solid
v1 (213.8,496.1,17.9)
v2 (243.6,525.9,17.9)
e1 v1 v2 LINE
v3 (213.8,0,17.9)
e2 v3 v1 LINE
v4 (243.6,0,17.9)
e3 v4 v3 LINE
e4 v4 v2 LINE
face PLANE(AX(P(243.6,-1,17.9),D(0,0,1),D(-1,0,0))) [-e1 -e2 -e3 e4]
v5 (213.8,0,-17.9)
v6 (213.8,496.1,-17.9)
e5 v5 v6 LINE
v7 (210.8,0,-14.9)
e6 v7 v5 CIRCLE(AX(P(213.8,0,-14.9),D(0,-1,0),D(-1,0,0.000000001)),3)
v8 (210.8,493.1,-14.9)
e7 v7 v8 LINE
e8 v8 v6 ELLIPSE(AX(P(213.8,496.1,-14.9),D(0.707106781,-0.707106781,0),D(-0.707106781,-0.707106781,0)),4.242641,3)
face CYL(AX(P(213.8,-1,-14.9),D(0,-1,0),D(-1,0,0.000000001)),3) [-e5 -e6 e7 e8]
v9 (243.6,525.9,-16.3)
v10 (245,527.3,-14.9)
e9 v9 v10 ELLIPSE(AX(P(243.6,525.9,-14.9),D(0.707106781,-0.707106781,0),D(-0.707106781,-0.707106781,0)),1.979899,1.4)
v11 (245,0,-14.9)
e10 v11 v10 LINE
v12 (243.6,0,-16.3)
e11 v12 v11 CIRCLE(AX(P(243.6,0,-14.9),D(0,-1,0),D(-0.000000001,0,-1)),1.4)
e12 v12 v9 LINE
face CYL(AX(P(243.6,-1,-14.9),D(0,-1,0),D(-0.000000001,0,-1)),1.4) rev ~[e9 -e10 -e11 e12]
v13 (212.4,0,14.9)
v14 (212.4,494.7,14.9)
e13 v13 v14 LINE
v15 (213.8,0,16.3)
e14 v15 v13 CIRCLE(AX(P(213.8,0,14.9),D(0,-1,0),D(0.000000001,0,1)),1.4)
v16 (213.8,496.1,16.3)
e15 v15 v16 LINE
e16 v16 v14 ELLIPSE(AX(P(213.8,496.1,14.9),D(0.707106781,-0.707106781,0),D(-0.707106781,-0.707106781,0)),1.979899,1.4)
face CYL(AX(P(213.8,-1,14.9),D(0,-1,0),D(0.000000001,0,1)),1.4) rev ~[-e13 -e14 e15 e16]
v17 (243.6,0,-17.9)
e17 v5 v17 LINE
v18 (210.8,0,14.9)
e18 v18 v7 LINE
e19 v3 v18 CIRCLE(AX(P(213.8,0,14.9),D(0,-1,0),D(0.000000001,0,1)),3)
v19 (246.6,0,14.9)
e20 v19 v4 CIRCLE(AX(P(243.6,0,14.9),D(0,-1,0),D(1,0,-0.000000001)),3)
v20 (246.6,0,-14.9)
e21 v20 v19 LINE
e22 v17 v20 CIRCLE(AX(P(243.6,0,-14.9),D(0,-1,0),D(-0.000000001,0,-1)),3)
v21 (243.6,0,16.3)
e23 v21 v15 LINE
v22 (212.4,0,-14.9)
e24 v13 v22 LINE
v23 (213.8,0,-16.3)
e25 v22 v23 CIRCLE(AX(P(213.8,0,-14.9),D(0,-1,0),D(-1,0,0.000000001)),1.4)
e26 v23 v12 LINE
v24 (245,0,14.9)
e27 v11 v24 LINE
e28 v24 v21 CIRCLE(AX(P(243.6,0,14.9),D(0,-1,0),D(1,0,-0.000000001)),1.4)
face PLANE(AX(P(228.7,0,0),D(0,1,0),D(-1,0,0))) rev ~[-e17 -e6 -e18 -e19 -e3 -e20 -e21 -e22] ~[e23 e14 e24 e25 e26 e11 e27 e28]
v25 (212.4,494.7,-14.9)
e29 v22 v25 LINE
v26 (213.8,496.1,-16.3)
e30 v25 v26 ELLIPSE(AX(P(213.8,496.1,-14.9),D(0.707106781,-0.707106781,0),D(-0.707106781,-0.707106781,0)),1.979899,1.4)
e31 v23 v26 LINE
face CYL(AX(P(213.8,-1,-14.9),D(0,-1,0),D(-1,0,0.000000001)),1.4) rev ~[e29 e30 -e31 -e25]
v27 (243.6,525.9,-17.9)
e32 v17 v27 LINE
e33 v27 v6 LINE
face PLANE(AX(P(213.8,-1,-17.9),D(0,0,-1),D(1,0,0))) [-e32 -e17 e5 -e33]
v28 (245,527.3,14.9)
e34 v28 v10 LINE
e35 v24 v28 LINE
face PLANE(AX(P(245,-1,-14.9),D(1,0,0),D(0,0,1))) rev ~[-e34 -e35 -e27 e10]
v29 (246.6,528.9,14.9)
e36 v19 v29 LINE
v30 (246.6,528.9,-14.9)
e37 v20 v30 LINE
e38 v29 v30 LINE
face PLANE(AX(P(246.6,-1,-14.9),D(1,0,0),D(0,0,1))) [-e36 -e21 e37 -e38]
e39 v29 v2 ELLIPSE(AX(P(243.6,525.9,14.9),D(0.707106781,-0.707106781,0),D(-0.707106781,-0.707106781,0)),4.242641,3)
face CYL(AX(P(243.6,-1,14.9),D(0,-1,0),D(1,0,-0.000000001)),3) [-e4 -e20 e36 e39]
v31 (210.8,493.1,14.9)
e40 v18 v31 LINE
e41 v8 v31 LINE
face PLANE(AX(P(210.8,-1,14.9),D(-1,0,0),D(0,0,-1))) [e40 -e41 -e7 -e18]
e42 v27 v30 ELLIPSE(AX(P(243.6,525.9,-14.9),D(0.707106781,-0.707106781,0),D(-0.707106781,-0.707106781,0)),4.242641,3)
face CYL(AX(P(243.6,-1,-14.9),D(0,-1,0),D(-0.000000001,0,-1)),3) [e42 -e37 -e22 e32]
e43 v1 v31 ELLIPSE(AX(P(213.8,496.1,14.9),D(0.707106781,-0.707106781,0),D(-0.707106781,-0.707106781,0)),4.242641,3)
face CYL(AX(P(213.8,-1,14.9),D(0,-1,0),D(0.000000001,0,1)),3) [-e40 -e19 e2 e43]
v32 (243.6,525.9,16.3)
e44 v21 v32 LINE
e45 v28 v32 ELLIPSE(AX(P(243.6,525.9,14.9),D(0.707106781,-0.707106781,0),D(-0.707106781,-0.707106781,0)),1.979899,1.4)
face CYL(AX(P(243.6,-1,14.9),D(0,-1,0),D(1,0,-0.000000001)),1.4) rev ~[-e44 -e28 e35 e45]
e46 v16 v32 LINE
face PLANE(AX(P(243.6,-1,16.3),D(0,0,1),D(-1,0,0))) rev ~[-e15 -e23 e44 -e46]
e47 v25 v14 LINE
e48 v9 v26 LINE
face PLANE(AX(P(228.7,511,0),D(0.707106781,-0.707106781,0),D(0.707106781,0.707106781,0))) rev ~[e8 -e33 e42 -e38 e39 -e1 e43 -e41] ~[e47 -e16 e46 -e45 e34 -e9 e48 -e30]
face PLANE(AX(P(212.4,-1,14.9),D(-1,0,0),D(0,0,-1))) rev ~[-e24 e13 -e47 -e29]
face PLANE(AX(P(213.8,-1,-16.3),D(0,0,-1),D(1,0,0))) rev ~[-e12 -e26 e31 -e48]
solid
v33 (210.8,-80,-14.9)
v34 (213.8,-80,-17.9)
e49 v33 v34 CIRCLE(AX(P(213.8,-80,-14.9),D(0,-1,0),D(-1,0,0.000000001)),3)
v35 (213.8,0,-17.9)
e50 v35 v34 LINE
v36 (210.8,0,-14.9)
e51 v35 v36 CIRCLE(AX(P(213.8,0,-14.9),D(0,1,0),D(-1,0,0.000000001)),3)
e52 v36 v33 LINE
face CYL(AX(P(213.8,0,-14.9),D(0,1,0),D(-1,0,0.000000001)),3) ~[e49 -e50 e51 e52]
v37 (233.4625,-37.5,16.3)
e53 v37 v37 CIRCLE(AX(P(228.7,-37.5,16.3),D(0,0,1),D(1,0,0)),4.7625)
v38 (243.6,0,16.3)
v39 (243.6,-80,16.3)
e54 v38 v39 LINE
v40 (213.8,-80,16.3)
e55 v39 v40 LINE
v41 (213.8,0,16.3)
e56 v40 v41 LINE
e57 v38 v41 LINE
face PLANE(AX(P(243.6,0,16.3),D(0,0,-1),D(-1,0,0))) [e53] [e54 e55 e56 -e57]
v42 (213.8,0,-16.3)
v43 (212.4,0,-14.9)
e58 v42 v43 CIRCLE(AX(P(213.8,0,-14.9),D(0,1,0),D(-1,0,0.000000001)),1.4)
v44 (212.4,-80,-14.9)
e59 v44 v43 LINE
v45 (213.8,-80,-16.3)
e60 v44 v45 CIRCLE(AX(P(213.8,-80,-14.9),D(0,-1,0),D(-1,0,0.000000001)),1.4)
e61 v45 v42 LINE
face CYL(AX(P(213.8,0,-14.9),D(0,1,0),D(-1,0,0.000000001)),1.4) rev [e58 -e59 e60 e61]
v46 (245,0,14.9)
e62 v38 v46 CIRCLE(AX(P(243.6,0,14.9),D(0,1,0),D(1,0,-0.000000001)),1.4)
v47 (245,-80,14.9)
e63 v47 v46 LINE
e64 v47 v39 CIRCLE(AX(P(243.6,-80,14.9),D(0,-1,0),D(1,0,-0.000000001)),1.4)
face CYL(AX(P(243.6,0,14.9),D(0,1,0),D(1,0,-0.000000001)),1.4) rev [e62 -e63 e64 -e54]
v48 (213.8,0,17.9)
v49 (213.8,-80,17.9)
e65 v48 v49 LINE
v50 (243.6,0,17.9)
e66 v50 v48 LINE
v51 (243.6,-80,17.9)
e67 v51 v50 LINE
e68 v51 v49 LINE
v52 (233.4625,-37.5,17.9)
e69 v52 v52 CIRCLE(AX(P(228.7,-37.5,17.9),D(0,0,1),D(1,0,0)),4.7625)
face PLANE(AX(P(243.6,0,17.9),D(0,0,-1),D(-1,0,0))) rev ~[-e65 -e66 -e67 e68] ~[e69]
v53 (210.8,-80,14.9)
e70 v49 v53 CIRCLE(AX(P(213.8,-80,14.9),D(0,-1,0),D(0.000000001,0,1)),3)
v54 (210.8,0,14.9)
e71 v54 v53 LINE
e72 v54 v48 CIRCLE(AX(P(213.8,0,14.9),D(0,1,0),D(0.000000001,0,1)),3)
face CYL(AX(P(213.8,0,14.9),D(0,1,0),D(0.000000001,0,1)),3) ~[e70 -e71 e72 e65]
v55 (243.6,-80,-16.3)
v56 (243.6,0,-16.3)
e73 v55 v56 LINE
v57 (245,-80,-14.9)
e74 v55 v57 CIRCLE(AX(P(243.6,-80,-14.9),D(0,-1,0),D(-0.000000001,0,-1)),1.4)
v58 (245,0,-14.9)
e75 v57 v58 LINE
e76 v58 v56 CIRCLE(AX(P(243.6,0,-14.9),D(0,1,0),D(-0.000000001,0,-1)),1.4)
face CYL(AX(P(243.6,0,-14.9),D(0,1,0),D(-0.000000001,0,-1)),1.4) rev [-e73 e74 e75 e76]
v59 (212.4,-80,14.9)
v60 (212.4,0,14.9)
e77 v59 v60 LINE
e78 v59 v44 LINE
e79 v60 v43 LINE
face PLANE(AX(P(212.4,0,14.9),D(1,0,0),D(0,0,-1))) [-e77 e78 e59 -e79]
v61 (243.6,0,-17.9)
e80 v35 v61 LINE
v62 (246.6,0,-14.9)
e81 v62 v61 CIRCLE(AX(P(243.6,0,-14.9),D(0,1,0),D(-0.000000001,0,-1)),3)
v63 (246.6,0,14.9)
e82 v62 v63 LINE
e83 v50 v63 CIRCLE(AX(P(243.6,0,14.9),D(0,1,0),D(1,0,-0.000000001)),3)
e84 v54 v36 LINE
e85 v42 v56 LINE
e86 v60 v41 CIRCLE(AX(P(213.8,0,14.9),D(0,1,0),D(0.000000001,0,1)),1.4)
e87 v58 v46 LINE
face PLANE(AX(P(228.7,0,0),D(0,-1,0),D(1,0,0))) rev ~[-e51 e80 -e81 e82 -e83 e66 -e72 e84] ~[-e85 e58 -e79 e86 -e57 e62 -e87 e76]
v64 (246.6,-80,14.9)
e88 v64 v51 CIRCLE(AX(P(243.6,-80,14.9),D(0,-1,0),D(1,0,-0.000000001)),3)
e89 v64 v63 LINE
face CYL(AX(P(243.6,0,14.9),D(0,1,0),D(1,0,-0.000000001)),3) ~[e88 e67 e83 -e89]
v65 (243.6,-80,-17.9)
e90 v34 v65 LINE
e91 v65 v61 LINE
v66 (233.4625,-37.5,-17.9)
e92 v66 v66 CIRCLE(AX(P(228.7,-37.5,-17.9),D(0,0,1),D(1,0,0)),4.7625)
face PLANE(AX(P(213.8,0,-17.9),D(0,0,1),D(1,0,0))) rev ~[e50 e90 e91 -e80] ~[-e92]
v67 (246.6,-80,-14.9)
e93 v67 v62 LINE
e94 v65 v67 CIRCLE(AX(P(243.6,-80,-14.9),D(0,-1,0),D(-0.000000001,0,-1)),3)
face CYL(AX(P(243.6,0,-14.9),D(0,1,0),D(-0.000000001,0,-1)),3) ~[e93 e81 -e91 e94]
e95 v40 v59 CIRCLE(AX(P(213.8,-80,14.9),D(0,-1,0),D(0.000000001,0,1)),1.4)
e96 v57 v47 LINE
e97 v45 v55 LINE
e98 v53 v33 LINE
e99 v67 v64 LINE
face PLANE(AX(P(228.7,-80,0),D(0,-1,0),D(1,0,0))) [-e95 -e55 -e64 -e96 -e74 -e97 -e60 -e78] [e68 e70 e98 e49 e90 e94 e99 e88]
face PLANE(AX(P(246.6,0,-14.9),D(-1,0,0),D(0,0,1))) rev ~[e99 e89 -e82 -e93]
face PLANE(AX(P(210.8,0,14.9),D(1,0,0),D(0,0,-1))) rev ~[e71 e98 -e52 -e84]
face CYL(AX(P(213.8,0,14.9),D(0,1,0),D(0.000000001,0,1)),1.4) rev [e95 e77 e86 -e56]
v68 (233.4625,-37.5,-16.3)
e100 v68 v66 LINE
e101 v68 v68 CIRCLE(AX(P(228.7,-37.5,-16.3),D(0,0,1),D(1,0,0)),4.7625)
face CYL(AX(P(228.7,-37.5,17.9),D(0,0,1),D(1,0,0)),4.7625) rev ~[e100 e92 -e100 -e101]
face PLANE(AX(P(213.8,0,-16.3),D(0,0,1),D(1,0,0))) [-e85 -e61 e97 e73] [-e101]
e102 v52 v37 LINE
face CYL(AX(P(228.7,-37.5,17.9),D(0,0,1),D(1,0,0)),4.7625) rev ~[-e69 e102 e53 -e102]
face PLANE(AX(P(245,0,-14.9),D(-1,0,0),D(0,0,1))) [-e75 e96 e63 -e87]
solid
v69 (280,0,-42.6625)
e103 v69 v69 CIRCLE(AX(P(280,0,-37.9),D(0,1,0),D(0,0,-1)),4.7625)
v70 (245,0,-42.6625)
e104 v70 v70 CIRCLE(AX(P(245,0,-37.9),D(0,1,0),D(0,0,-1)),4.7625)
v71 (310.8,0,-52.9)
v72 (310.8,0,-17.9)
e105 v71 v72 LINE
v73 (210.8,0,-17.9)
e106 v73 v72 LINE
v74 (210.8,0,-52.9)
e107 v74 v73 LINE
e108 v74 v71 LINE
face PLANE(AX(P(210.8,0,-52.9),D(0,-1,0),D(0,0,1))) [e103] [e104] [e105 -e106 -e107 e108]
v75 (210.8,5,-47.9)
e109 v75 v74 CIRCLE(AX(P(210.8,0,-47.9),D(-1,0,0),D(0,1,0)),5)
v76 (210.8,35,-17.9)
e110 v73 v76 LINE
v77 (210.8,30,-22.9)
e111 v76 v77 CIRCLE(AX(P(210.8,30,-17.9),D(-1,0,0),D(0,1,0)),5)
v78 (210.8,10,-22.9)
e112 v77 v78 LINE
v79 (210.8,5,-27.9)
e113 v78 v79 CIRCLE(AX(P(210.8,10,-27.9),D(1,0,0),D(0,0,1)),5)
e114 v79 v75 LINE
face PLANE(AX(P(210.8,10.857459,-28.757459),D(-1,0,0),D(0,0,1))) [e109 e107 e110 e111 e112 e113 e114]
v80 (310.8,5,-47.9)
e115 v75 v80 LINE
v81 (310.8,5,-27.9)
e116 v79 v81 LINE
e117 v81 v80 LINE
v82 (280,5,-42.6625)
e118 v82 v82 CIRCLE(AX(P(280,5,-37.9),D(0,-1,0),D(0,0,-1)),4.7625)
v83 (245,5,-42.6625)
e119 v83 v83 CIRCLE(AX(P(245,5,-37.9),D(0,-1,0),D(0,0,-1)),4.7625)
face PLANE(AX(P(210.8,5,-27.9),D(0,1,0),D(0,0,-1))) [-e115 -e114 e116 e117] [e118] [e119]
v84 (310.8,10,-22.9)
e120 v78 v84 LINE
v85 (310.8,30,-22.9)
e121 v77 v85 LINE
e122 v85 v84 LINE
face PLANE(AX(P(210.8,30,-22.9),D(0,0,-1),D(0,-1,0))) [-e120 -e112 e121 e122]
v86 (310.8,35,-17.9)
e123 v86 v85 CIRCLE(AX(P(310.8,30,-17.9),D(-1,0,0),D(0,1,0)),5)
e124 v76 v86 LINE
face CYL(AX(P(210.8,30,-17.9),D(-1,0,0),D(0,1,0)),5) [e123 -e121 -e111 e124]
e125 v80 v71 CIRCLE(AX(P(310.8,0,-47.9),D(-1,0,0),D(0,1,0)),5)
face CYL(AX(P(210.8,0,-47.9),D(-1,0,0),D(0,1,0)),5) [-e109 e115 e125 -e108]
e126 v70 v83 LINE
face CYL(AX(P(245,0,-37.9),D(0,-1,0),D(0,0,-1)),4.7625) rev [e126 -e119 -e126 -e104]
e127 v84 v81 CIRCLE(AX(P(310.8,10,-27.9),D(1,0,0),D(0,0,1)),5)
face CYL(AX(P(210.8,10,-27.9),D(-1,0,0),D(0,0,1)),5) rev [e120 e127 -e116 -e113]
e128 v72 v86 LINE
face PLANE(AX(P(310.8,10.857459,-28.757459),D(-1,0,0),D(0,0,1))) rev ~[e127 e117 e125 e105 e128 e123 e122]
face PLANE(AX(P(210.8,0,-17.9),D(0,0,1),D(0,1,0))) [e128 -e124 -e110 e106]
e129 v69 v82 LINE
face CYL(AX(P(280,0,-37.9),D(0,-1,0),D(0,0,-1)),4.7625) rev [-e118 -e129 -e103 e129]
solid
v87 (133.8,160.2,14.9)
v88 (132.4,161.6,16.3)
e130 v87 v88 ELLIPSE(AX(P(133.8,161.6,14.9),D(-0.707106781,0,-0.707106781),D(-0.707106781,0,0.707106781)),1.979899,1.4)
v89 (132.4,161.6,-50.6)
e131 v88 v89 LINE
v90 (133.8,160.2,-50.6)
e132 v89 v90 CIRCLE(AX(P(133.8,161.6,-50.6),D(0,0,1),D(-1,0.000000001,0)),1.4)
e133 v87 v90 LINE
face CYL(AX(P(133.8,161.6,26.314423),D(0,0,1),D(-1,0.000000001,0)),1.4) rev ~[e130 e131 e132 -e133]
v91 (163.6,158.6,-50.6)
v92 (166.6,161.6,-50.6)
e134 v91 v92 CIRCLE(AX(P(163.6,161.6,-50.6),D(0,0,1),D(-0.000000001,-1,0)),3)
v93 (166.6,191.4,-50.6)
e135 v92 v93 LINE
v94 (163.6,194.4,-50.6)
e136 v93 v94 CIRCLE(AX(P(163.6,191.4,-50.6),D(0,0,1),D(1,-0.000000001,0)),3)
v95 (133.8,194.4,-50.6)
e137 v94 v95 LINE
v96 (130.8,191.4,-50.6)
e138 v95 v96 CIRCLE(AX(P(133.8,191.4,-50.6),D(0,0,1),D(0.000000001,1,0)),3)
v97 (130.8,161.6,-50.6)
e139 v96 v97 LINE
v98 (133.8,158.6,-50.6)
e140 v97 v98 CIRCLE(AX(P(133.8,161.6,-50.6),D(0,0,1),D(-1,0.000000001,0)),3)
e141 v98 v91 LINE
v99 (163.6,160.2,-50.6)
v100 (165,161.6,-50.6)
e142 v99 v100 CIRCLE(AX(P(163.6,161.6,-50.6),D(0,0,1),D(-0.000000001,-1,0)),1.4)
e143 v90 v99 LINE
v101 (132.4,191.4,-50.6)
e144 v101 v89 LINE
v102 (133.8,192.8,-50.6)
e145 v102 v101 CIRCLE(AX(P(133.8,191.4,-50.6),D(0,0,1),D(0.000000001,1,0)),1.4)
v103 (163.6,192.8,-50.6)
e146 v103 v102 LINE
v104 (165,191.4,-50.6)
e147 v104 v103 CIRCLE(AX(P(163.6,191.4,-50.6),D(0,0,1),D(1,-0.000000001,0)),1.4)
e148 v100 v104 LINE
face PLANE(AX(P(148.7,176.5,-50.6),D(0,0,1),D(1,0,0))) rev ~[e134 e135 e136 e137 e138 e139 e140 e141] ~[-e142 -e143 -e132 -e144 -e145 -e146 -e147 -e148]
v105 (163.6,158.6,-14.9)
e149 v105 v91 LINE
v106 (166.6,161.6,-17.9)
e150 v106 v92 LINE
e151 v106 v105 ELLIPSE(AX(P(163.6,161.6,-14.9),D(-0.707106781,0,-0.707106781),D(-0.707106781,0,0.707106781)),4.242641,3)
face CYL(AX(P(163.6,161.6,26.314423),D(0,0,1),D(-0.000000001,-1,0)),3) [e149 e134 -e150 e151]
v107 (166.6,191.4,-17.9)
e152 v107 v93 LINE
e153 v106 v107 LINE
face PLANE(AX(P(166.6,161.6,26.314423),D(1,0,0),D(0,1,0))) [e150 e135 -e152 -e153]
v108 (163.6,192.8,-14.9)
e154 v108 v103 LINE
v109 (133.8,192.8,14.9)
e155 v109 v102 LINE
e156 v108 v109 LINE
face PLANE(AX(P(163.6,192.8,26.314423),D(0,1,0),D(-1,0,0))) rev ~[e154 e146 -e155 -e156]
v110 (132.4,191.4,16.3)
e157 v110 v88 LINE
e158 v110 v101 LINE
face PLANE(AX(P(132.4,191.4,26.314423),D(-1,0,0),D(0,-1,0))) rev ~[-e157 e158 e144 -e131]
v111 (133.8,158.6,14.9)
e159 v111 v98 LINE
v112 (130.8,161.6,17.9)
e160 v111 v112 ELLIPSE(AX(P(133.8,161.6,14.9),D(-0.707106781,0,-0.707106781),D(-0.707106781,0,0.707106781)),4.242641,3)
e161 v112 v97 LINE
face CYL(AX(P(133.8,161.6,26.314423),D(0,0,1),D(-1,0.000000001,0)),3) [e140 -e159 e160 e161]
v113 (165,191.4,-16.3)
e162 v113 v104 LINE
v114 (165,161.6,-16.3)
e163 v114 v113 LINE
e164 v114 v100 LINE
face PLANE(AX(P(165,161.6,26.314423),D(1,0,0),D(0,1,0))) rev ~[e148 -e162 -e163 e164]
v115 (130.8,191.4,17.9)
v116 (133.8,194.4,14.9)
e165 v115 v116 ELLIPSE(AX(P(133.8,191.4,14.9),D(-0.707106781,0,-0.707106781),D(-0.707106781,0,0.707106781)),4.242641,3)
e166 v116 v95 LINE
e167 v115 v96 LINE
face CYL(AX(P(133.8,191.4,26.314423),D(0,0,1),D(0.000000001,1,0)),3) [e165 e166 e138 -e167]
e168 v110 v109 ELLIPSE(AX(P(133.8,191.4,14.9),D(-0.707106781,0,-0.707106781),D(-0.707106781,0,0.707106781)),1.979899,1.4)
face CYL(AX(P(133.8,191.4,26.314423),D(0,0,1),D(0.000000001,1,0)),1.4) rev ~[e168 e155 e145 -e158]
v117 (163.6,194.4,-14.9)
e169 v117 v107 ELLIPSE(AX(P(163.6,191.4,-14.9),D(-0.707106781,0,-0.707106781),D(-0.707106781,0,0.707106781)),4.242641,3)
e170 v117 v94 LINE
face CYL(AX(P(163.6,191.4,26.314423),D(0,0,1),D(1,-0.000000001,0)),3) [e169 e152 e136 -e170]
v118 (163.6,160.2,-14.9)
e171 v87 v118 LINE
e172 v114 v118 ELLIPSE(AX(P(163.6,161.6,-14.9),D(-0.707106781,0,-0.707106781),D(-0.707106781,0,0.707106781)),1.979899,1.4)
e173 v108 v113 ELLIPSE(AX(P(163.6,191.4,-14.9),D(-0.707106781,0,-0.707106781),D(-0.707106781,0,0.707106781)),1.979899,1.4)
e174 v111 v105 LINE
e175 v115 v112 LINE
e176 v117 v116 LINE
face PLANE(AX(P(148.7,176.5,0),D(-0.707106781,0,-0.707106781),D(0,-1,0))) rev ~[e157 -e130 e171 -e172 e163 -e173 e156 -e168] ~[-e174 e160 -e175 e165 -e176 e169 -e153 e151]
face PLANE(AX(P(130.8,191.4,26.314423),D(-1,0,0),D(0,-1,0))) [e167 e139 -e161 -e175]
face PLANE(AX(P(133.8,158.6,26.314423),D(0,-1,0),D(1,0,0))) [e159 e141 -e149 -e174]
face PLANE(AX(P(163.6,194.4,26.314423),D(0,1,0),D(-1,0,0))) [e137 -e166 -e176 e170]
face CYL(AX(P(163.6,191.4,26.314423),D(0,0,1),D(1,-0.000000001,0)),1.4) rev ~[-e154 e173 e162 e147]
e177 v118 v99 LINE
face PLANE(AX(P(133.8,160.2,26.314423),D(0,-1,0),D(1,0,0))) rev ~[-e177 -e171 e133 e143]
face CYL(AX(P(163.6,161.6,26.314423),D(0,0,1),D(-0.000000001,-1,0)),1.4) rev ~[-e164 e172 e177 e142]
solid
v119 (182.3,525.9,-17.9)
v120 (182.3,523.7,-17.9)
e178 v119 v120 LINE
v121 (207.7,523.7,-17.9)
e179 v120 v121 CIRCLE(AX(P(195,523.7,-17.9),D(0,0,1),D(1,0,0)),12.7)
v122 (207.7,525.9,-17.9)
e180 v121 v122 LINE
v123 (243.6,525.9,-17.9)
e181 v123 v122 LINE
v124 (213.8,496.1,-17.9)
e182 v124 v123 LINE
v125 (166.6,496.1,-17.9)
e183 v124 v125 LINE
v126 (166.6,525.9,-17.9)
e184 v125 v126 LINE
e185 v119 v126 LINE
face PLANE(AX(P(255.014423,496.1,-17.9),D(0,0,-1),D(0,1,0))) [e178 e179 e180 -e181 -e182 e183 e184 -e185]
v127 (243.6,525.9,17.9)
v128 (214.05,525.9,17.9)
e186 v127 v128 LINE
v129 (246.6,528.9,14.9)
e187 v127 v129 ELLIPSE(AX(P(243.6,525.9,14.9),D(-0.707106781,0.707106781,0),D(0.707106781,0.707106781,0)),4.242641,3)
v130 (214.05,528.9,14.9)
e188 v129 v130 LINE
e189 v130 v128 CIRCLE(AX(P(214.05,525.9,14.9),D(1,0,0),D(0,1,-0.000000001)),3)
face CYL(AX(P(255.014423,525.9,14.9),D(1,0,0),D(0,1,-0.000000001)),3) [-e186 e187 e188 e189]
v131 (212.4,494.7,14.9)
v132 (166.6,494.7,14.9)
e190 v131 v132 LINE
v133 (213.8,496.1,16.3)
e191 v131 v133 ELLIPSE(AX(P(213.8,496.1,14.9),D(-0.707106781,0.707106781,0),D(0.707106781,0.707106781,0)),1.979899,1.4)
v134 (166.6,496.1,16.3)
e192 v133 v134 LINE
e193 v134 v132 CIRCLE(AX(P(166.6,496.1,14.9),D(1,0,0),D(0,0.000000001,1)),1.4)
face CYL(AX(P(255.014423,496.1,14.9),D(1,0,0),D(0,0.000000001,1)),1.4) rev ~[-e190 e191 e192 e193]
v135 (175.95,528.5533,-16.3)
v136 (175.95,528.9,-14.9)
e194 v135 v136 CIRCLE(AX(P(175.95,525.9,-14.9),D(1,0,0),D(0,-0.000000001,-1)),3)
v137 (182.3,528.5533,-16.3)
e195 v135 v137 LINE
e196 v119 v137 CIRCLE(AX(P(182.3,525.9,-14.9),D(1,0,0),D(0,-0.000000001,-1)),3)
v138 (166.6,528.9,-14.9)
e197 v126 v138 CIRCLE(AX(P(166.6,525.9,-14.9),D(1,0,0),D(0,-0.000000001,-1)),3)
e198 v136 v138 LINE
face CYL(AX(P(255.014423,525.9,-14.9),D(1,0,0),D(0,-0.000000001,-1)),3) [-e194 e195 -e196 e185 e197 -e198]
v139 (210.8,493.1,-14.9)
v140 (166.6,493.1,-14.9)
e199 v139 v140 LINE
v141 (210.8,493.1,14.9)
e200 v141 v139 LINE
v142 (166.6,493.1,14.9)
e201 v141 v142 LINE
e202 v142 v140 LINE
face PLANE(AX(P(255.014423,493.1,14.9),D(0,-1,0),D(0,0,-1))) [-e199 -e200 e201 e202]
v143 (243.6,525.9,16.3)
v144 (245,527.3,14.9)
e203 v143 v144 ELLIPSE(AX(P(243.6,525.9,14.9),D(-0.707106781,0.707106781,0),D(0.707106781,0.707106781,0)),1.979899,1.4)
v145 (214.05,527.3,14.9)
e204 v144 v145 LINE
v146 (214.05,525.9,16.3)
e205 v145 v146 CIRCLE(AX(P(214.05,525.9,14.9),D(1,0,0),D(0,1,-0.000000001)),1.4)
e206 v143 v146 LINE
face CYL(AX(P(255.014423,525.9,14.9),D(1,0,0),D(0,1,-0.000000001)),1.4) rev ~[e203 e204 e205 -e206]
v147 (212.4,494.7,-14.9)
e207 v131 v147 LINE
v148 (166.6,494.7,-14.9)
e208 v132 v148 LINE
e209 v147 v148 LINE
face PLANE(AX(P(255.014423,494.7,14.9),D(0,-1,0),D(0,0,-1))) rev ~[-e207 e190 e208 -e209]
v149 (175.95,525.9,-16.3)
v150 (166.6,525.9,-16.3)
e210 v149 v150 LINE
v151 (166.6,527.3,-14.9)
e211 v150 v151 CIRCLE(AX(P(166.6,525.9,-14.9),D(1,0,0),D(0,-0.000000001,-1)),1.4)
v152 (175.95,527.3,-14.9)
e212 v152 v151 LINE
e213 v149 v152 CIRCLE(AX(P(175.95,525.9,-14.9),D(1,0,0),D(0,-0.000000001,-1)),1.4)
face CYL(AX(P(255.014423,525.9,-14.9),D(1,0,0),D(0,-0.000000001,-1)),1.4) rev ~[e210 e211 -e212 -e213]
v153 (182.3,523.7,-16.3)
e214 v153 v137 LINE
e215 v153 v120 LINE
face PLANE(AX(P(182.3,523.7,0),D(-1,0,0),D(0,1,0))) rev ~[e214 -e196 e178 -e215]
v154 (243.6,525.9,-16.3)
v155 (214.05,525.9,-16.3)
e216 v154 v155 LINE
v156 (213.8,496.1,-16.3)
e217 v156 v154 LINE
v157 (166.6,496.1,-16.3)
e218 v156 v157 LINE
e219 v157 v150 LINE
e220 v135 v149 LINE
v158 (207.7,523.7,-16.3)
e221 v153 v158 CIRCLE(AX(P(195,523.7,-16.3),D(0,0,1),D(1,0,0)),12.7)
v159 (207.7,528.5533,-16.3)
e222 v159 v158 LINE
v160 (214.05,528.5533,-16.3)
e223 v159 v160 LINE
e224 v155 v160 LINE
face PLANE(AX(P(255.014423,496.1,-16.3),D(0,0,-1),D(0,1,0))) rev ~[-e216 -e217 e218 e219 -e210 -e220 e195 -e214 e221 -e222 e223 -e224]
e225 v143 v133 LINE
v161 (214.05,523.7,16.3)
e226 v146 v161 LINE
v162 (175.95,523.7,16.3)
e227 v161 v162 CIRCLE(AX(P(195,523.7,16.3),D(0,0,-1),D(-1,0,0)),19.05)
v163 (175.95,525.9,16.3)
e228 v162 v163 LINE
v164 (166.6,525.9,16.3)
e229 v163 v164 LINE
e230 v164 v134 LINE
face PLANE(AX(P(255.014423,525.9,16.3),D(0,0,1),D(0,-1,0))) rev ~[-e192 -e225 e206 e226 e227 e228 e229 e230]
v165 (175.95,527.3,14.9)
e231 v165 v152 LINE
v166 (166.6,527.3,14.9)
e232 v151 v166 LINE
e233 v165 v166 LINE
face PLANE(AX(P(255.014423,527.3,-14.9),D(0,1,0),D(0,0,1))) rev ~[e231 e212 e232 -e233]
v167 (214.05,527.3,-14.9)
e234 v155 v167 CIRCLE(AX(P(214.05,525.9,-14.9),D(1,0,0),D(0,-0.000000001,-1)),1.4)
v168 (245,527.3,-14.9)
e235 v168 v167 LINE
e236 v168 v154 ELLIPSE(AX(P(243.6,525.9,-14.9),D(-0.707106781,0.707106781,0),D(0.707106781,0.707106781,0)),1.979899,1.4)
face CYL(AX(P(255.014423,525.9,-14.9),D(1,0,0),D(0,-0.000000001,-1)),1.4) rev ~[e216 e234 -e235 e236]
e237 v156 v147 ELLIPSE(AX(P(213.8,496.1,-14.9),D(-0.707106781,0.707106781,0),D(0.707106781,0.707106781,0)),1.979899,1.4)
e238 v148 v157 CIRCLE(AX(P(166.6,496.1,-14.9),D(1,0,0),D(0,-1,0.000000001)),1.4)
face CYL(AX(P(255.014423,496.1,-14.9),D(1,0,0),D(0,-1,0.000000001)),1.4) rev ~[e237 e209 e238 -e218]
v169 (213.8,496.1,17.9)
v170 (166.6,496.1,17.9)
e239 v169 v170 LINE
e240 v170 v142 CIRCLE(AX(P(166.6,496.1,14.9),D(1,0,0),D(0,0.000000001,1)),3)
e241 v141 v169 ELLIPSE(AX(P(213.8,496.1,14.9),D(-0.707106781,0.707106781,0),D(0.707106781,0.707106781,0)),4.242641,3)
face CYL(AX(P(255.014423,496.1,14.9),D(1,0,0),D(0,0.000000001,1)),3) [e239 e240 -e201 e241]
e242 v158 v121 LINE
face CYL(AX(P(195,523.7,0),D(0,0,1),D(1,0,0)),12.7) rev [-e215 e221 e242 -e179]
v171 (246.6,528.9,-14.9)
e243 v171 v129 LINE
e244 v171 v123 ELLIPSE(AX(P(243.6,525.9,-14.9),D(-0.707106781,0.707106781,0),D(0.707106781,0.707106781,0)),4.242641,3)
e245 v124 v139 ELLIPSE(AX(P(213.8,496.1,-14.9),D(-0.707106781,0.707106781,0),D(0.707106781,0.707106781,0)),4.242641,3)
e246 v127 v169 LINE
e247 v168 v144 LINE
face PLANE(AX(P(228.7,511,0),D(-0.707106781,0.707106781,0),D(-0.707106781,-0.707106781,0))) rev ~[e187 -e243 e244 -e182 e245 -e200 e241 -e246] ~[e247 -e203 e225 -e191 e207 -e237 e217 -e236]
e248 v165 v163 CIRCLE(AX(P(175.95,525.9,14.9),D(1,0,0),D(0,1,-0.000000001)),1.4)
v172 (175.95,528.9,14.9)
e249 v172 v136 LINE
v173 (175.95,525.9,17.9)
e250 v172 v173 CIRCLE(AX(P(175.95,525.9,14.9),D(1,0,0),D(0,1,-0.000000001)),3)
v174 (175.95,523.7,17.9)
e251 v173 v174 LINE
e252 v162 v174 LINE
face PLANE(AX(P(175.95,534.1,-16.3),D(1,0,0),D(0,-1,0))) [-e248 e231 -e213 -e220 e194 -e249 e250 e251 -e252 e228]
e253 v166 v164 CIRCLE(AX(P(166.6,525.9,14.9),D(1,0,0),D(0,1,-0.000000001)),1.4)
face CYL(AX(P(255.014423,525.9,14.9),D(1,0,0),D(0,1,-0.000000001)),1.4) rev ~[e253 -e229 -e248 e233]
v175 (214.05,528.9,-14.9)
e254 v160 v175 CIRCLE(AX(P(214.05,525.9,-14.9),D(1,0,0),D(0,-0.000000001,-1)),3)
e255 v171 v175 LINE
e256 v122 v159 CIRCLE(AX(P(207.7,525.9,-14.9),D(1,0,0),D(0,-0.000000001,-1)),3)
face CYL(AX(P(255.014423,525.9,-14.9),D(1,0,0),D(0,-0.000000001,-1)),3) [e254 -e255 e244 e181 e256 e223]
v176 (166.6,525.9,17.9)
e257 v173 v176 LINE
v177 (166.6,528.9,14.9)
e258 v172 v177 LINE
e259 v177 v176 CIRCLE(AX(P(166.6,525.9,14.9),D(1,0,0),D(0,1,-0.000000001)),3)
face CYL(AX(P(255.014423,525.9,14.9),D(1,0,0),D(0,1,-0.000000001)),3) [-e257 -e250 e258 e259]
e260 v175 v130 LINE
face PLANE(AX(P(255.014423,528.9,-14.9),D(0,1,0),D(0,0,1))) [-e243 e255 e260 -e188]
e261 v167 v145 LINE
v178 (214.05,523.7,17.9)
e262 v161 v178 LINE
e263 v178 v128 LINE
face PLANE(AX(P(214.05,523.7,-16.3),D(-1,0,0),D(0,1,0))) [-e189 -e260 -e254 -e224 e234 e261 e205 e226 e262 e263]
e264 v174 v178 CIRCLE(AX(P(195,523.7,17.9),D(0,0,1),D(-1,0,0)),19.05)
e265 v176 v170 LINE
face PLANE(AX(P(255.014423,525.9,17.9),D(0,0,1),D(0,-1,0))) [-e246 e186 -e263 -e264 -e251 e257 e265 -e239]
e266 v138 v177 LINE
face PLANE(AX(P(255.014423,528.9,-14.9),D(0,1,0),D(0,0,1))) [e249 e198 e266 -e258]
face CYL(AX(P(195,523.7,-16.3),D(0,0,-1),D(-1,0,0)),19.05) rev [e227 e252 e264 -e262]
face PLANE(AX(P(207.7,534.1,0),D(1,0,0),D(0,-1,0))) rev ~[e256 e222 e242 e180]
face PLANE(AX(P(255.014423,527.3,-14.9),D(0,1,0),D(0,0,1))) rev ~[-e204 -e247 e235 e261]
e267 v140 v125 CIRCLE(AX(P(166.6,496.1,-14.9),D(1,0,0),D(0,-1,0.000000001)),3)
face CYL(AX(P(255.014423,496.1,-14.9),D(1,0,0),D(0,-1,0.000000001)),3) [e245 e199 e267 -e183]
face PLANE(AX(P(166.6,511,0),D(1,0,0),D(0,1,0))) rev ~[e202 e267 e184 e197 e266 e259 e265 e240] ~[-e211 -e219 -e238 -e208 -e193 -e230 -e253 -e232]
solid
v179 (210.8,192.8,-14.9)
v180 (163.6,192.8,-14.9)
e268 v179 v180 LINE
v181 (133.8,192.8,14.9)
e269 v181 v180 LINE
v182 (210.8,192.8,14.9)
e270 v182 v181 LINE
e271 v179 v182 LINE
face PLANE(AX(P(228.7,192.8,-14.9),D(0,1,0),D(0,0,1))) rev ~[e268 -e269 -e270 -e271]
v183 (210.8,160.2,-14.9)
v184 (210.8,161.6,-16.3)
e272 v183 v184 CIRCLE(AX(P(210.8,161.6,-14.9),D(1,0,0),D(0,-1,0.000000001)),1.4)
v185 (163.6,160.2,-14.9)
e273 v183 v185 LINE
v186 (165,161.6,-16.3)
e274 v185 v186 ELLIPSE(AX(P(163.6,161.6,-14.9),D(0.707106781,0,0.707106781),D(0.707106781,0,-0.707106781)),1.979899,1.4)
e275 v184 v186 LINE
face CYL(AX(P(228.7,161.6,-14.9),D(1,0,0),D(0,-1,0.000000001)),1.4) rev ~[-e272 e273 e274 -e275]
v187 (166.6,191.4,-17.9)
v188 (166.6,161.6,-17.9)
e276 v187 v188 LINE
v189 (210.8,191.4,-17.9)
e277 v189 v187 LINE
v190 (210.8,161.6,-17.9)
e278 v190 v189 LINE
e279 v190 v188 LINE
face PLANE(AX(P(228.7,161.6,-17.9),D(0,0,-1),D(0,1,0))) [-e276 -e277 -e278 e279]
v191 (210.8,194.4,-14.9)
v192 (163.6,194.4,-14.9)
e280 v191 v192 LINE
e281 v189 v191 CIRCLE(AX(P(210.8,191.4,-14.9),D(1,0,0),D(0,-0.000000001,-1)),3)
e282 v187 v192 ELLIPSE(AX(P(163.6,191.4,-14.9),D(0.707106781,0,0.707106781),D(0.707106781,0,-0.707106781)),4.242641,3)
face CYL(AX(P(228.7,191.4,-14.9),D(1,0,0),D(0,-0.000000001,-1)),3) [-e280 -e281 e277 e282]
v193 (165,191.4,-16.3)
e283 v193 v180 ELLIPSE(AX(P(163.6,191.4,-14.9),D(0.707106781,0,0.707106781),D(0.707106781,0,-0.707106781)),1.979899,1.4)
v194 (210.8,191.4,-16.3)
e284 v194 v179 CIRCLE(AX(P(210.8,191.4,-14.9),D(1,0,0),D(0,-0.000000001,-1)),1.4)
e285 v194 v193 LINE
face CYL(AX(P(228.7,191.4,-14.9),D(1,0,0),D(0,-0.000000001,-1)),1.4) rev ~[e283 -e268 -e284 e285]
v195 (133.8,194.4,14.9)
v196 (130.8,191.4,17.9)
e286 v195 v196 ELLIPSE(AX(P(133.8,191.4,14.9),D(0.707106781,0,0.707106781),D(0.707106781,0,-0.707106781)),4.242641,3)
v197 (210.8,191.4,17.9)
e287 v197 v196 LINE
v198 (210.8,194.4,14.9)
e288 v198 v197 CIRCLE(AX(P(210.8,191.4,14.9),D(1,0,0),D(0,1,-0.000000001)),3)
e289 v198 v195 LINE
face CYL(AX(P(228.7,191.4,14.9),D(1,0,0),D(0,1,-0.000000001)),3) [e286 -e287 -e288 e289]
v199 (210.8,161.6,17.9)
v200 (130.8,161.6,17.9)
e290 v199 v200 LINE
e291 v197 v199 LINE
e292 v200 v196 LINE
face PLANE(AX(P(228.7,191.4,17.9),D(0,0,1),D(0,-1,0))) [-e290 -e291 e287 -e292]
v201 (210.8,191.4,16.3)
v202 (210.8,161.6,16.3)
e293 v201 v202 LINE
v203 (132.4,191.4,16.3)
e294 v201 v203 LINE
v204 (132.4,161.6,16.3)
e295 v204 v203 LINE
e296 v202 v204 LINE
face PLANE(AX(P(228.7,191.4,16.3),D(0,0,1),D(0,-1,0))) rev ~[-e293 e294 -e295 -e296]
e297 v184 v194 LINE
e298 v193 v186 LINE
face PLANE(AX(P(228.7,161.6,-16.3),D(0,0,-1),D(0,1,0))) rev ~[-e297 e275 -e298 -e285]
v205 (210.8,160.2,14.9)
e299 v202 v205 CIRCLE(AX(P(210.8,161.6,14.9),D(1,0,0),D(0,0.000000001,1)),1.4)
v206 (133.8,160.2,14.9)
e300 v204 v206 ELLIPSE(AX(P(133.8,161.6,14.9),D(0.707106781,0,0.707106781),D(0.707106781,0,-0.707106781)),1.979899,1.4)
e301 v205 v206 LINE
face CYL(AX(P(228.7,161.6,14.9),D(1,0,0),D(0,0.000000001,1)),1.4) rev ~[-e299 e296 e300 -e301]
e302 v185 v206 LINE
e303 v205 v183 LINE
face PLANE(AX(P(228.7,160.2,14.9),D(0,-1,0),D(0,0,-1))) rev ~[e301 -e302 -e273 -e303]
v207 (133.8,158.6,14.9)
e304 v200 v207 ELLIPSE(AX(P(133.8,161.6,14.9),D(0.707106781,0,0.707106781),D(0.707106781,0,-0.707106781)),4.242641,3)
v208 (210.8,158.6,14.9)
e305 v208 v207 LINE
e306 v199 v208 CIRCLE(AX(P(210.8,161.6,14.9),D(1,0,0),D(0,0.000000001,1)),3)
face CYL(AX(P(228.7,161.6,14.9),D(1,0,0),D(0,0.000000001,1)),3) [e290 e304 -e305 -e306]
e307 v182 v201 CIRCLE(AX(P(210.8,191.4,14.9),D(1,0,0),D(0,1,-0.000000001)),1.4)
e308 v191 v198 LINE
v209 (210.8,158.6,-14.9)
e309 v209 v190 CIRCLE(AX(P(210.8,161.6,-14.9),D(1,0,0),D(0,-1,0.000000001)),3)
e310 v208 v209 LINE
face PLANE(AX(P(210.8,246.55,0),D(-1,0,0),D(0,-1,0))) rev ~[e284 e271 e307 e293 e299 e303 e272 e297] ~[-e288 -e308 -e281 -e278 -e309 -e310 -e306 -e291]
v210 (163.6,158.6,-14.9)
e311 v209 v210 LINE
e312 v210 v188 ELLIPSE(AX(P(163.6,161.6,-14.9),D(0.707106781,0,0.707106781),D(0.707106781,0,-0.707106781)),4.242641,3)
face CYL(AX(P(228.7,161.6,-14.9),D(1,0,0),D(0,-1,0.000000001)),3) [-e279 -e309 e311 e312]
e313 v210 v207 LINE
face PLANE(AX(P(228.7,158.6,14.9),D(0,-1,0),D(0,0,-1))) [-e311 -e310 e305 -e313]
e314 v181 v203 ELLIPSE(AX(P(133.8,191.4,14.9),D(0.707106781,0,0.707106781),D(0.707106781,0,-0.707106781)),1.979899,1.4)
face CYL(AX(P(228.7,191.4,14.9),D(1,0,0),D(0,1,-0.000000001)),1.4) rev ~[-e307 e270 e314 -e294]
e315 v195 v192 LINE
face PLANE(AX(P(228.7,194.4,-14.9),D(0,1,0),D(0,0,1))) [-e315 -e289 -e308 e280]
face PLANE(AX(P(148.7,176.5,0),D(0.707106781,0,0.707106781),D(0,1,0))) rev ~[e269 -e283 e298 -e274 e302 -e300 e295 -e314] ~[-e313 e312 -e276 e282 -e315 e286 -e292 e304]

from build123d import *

# Parameters (mm, degrees)
STRUCTURAL_MEMBERMAIN_DEPTH        = 1
STRUCTURAL_MEMBERMAIN_DEPTH_BACK   = 80
STRUCTURAL_MEMBERMAIN_2_DEPTH      = 538.314422766
STRUCTURAL_MEMBERMAIN_3_DEPTH      = 88.414422766
CUT_EXTRUDETOPRAILGUIDE_DEPTH      = 584.83831666
CUT_EXTRUDETOPRAILGUIDE_DEPTH_BACK = 584.83831666
STRUCTURAL_MEMBERANGLE_DEPTH       = 100
SKETCH15_R                         = 4.7625
CUT_EXTRUDEMOUNTINGHOLES_DEPTH     = 616.735543882
CUT_EXTRUDEENLARGERAILGUIDE_START  = -16.3
CUT_EXTRUDEENLARGERAILGUIDE_DEPTH  = 34.2
STRUCTURAL_MEMBER2_DEPTH           = 106.314422766
STRUCTURAL_MEMBER2_2_DEPTH         = 76.914422766
SKETCH111_R                        = 4.7625
CUT_EXTRUDE1_DEPTH                 = 618.530962786


with BuildPart() as part:
    # Sketch11 → Structural MemberMain (new, two sides)
    with BuildSketch(Plane(origin=(228.7, 0, 0), x_dir=(-1, 0, 0), z_dir=(0, 1, 0))) as structural_membermain_sk:
        with BuildLine():
            Line((-14.9, 17.9), (14.9, 17.9))
            ThreePointArc((14.9, 17.9), (17.021320344, 17.021320344), (17.9, 14.9))
            Line((17.9, 14.9), (17.9, -14.9))
            ThreePointArc((17.9, -14.9), (17.021320344, -17.021320344), (14.9, -17.9))
            Line((14.9, -17.9), (-14.9, -17.9))
            ThreePointArc((-14.9, -17.9), (-17.021320344, -17.021320344), (-17.9, -14.9))
            Line((-17.9, -14.9), (-17.9, 14.9))
            ThreePointArc((-17.9, 14.9), (-17.021320344, 17.021320344), (-14.9, 17.9))
        make_face()
        with BuildLine():
            Line((-14.9, 16.3), (14.9, 16.3))
            ThreePointArc((14.9, 16.3), (15.889949494, 15.889949494), (16.3, 14.9))
            Line((16.3, 14.9), (16.3, -14.9))
            ThreePointArc((16.3, -14.9), (15.889949494, -15.889949494), (14.9, -16.3))
            Line((14.9, -16.3), (-14.9, -16.3))
            ThreePointArc((-14.9, -16.3), (-15.889949494, -15.889949494), (-16.3, -14.9))
            Line((-16.3, -14.9), (-16.3, 14.9))
            ThreePointArc((-16.3, 14.9), (-15.889949494, 15.889949494), (-14.9, 16.3))
        make_face(mode=Mode.SUBTRACT)
    extrude(amount=STRUCTURAL_MEMBERMAIN_DEPTH)
    extrude(structural_membermain_sk.sketch, amount=-STRUCTURAL_MEMBERMAIN_DEPTH_BACK)

    # Structural MemberMain mitre 1
    split(bisect_by=Plane(origin=(228.7, 0, 0), x_dir=(1, 0, 0), z_dir=(0, -1, 0)), keep=Keep.TOP)

    # Sketch111 → Cut-Extrude1 (cut, through all)
    with BuildSketch(Plane.XY.offset(17.9)):
        with Locations((228.7, -37.5)):
            Circle(SKETCH111_R)
    extrude(amount=-CUT_EXTRUDE1_DEPTH, mode=Mode.SUBTRACT)


with BuildPart() as body_2:
    # Sketch11 on segment 2 (carried to segment 2) → Structural MemberMain 2 (new body)
    with BuildSketch(Plane(origin=(228.7, -1, 0), x_dir=(-1, 0, 0), z_dir=(0, 1, 0))):
        with BuildLine():
            Line((-14.9, 17.9), (14.9, 17.9))
            ThreePointArc((14.9, 17.9), (17.021320344, 17.021320344), (17.9, 14.9))
            Line((17.9, 14.9), (17.9, -14.9))
            ThreePointArc((17.9, -14.9), (17.021320344, -17.021320344), (14.9, -17.9))
            Line((14.9, -17.9), (-14.9, -17.9))
            ThreePointArc((-14.9, -17.9), (-17.021320344, -17.021320344), (-17.9, -14.9))
            Line((-17.9, -14.9), (-17.9, 14.9))
            ThreePointArc((-17.9, 14.9), (-17.021320344, 17.021320344), (-14.9, 17.9))
        make_face()
        with BuildLine():
            Line((-14.9, 16.3), (14.9, 16.3))
            ThreePointArc((14.9, 16.3), (15.889949494, 15.889949494), (16.3, 14.9))
            Line((16.3, 14.9), (16.3, -14.9))
            ThreePointArc((16.3, -14.9), (15.889949494, -15.889949494), (14.9, -16.3))
            Line((14.9, -16.3), (-14.9, -16.3))
            ThreePointArc((-14.9, -16.3), (-15.889949494, -15.889949494), (-16.3, -14.9))
            Line((-16.3, -14.9), (-16.3, 14.9))
            ThreePointArc((-16.3, 14.9), (-15.889949494, 15.889949494), (-14.9, 16.3))
        make_face(mode=Mode.SUBTRACT)
    extrude(amount=STRUCTURAL_MEMBERMAIN_2_DEPTH)

    # Structural MemberMain 2 mitre 1
    split(bisect_by=Plane(origin=(228.7, 0, 0), x_dir=(-1, 0, 0), z_dir=(0, 1, 0)), keep=Keep.TOP)

    # Structural MemberMain 2 mitre 2
    split(bisect_by=Plane(origin=(228.7, 511, 0), x_dir=(0.707106781, 0.707106781, 0), z_dir=(0.707106781, -0.707106781, 0)), keep=Keep.TOP)


with BuildPart() as body_3:
    # Sketch11 on segment 3 (carried to segment 3) → Structural MemberMain 3 (new body)
    with BuildSketch(Plane(origin=(255.014422766, 511, 0), x_dir=(0, -1, 0), z_dir=(-1, 0, 0))):
        with BuildLine():
            Line((-14.9, 17.9), (14.9, 17.9))
            ThreePointArc((14.9, 17.9), (17.021320344, 17.021320344), (17.9, 14.9))
            Line((17.9, 14.9), (17.9, -14.9))
            ThreePointArc((17.9, -14.9), (17.021320344, -17.021320344), (14.9, -17.9))
            Line((14.9, -17.9), (-14.9, -17.9))
            ThreePointArc((-14.9, -17.9), (-17.021320344, -17.021320344), (-17.9, -14.9))
            Line((-17.9, -14.9), (-17.9, 14.9))
            ThreePointArc((-17.9, 14.9), (-17.021320344, 17.021320344), (-14.9, 17.9))
        make_face()
        with BuildLine():
            Line((-14.9, 16.3), (14.9, 16.3))
            ThreePointArc((14.9, 16.3), (15.889949494, 15.889949494), (16.3, 14.9))
            Line((16.3, 14.9), (16.3, -14.9))
            ThreePointArc((16.3, -14.9), (15.889949494, -15.889949494), (14.9, -16.3))
            Line((14.9, -16.3), (-14.9, -16.3))
            ThreePointArc((-14.9, -16.3), (-15.889949494, -15.889949494), (-16.3, -14.9))
            Line((-16.3, -14.9), (-16.3, 14.9))
            ThreePointArc((-16.3, 14.9), (-15.889949494, 15.889949494), (-14.9, 16.3))
        make_face(mode=Mode.SUBTRACT)
    extrude(amount=STRUCTURAL_MEMBERMAIN_3_DEPTH)

    # Structural MemberMain 3 mitre 1
    split(bisect_by=Plane(origin=(228.7, 511, 0), x_dir=(-0.707106781, -0.707106781, 0), z_dir=(-0.707106781, 0.707106781, 0)), keep=Keep.TOP)

    # Sketch12 → Cut-ExtrudeTopRailGuide (cut, two sides)
    with BuildSketch(Plane.XY) as cut_extrudetoprailguide_sk:
        with BuildLine():
            Line((182.3, 523.7), (182.3, 534.1))
            ThreePointArc((182.3, 534.1), (195, 546.8), (207.7, 534.1))
            Line((207.7, 534.1), (207.7, 523.7))
            ThreePointArc((207.7, 523.7), (195, 511), (182.3, 523.7))
        make_face()
    extrude(amount=CUT_EXTRUDETOPRAILGUIDE_DEPTH, mode=Mode.SUBTRACT)
    extrude(cut_extrudetoprailguide_sk.sketch, amount=-CUT_EXTRUDETOPRAILGUIDE_DEPTH_BACK, mode=Mode.SUBTRACT)

    # Sketch16 → Cut-ExtrudeEnlargeRailGuide (cut)
    with BuildSketch(Plane.XY.offset(CUT_EXTRUDEENLARGERAILGUIDE_START)):
        with BuildLine():
            Line((214.05, 523.7), (214.05, 534.1))
            ThreePointArc((214.05, 534.1), (195, 553.15), (175.95, 534.1))
            Line((175.95, 534.1), (175.95, 523.7))
            ThreePointArc((175.95, 523.7), (195, 504.65), (214.05, 523.7))
        make_face()
    extrude(amount=CUT_EXTRUDEENLARGERAILGUIDE_DEPTH, mode=Mode.SUBTRACT)


with BuildPart() as body_4:
    # Sketch14 → Structural MemberAngle (new body)
    with BuildSketch(Plane(origin=(210.8, 0, -17.9), x_dir=(0, 0, -1), z_dir=(1, 0, 0))):
        with BuildLine():
            Line((0, 0), (0, 35))
            ThreePointArc((0, 35), (3.535533906, 33.535533906), (5, 30))
            Line((5, 30), (5, 10))
            ThreePointArc((5, 10), (6.464466094, 6.464466094), (10, 5))
            Line((10, 5), (30, 5))
            ThreePointArc((30, 5), (33.535533906, 3.535533906), (35, 0))
            Line((35, 0), (0, 0))
        make_face()
    extrude(amount=STRUCTURAL_MEMBERANGLE_DEPTH)

    # Sketch15 → Cut-ExtrudeMountingHoles (cut, through all)
    with BuildSketch(Plane(origin=(0, 0, 0), x_dir=(1, 0, 0), z_dir=(0, 1, 0))):
        with Locations(Location((245, 37.9, 0), (0, 0, 90))):
            Circle(SKETCH15_R)
        with Locations(Location((280, 37.9, 0), (0, 0, 90))):
            Circle(SKETCH15_R)
    extrude(amount=CUT_EXTRUDEMOUNTINGHOLES_DEPTH, mode=Mode.SUBTRACT)


with BuildPart() as body_5:
    # Sketch110 → Structural Member2 (new body)
    with BuildSketch(Plane(origin=(228.7, 176.5, 0), x_dir=(0, 0, 1), z_dir=(-1, 0, 0))):
        with BuildLine():
            Line((-14.9, 17.9), (14.9, 17.9))
            ThreePointArc((14.9, 17.9), (17.021320344, 17.021320344), (17.9, 14.9))
            Line((17.9, 14.9), (17.9, -14.9))
            ThreePointArc((17.9, -14.9), (17.021320344, -17.021320344), (14.9, -17.9))
            Line((14.9, -17.9), (-14.9, -17.9))
            ThreePointArc((-14.9, -17.9), (-17.021320344, -17.021320344), (-17.9, -14.9))
            Line((-17.9, -14.9), (-17.9, 14.9))
            ThreePointArc((-17.9, 14.9), (-17.021320344, 17.021320344), (-14.9, 17.9))
        make_face()
        with BuildLine():
            Line((-14.9, 16.3), (14.9, 16.3))
            ThreePointArc((14.9, 16.3), (15.889949494, 15.889949494), (16.3, 14.9))
            Line((16.3, 14.9), (16.3, -14.9))
            ThreePointArc((16.3, -14.9), (15.889949494, -15.889949494), (14.9, -16.3))
            Line((14.9, -16.3), (-14.9, -16.3))
            ThreePointArc((-14.9, -16.3), (-15.889949494, -15.889949494), (-16.3, -14.9))
            Line((-16.3, -14.9), (-16.3, 14.9))
            ThreePointArc((-16.3, 14.9), (-15.889949494, 15.889949494), (-14.9, 16.3))
        make_face(mode=Mode.SUBTRACT)
    extrude(amount=STRUCTURAL_MEMBER2_DEPTH)

    # Structural Member2 mitre 1
    split(bisect_by=Plane(origin=(148.7, 176.5, 0), x_dir=(0, 1, 0), z_dir=(0.707106781, 0, 0.707106781)), keep=Keep.TOP)

    # Trim_Extend1 15
    split(bisect_by=Plane(origin=(210.8, 246.55, 0), x_dir=(0, -1, 0), z_dir=(-1, 0, 0)), keep=Keep.TOP)


with BuildPart() as body_6:
    # Sketch110 on segment 2 (carried to segment 2) → Structural Member2 2 (new body)
    with BuildSketch(Plane(origin=(148.7, 176.5, 26.314422766), x_dir=(-1, 0, 0), z_dir=(0, 0, -1))):
        with BuildLine():
            Line((-14.9, 17.9), (14.9, 17.9))
            ThreePointArc((14.9, 17.9), (17.021320344, 17.021320344), (17.9, 14.9))
            Line((17.9, 14.9), (17.9, -14.9))
            ThreePointArc((17.9, -14.9), (17.021320344, -17.021320344), (14.9, -17.9))
            Line((14.9, -17.9), (-14.9, -17.9))
            ThreePointArc((-14.9, -17.9), (-17.021320344, -17.021320344), (-17.9, -14.9))
            Line((-17.9, -14.9), (-17.9, 14.9))
            ThreePointArc((-17.9, 14.9), (-17.021320344, 17.021320344), (-14.9, 17.9))
        make_face()
        with BuildLine():
            Line((-14.9, 16.3), (14.9, 16.3))
            ThreePointArc((14.9, 16.3), (15.889949494, 15.889949494), (16.3, 14.9))
            Line((16.3, 14.9), (16.3, -14.9))
            ThreePointArc((16.3, -14.9), (15.889949494, -15.889949494), (14.9, -16.3))
            Line((14.9, -16.3), (-14.9, -16.3))
            ThreePointArc((-14.9, -16.3), (-15.889949494, -15.889949494), (-16.3, -14.9))
            Line((-16.3, -14.9), (-16.3, 14.9))
            ThreePointArc((-16.3, 14.9), (-15.889949494, 15.889949494), (-14.9, 16.3))
        make_face(mode=Mode.SUBTRACT)
    extrude(amount=STRUCTURAL_MEMBER2_2_DEPTH)

    # Structural Member2 2 mitre 1
    split(bisect_by=Plane(origin=(148.7, 176.5, 0), x_dir=(0, -1, 0), z_dir=(-0.707106781, 0, -0.707106781)), keep=Keep.TOP)


solid = Compound([part.part, body_2.part, body_3.part, body_4.part, body_5.part, body_6.part])
